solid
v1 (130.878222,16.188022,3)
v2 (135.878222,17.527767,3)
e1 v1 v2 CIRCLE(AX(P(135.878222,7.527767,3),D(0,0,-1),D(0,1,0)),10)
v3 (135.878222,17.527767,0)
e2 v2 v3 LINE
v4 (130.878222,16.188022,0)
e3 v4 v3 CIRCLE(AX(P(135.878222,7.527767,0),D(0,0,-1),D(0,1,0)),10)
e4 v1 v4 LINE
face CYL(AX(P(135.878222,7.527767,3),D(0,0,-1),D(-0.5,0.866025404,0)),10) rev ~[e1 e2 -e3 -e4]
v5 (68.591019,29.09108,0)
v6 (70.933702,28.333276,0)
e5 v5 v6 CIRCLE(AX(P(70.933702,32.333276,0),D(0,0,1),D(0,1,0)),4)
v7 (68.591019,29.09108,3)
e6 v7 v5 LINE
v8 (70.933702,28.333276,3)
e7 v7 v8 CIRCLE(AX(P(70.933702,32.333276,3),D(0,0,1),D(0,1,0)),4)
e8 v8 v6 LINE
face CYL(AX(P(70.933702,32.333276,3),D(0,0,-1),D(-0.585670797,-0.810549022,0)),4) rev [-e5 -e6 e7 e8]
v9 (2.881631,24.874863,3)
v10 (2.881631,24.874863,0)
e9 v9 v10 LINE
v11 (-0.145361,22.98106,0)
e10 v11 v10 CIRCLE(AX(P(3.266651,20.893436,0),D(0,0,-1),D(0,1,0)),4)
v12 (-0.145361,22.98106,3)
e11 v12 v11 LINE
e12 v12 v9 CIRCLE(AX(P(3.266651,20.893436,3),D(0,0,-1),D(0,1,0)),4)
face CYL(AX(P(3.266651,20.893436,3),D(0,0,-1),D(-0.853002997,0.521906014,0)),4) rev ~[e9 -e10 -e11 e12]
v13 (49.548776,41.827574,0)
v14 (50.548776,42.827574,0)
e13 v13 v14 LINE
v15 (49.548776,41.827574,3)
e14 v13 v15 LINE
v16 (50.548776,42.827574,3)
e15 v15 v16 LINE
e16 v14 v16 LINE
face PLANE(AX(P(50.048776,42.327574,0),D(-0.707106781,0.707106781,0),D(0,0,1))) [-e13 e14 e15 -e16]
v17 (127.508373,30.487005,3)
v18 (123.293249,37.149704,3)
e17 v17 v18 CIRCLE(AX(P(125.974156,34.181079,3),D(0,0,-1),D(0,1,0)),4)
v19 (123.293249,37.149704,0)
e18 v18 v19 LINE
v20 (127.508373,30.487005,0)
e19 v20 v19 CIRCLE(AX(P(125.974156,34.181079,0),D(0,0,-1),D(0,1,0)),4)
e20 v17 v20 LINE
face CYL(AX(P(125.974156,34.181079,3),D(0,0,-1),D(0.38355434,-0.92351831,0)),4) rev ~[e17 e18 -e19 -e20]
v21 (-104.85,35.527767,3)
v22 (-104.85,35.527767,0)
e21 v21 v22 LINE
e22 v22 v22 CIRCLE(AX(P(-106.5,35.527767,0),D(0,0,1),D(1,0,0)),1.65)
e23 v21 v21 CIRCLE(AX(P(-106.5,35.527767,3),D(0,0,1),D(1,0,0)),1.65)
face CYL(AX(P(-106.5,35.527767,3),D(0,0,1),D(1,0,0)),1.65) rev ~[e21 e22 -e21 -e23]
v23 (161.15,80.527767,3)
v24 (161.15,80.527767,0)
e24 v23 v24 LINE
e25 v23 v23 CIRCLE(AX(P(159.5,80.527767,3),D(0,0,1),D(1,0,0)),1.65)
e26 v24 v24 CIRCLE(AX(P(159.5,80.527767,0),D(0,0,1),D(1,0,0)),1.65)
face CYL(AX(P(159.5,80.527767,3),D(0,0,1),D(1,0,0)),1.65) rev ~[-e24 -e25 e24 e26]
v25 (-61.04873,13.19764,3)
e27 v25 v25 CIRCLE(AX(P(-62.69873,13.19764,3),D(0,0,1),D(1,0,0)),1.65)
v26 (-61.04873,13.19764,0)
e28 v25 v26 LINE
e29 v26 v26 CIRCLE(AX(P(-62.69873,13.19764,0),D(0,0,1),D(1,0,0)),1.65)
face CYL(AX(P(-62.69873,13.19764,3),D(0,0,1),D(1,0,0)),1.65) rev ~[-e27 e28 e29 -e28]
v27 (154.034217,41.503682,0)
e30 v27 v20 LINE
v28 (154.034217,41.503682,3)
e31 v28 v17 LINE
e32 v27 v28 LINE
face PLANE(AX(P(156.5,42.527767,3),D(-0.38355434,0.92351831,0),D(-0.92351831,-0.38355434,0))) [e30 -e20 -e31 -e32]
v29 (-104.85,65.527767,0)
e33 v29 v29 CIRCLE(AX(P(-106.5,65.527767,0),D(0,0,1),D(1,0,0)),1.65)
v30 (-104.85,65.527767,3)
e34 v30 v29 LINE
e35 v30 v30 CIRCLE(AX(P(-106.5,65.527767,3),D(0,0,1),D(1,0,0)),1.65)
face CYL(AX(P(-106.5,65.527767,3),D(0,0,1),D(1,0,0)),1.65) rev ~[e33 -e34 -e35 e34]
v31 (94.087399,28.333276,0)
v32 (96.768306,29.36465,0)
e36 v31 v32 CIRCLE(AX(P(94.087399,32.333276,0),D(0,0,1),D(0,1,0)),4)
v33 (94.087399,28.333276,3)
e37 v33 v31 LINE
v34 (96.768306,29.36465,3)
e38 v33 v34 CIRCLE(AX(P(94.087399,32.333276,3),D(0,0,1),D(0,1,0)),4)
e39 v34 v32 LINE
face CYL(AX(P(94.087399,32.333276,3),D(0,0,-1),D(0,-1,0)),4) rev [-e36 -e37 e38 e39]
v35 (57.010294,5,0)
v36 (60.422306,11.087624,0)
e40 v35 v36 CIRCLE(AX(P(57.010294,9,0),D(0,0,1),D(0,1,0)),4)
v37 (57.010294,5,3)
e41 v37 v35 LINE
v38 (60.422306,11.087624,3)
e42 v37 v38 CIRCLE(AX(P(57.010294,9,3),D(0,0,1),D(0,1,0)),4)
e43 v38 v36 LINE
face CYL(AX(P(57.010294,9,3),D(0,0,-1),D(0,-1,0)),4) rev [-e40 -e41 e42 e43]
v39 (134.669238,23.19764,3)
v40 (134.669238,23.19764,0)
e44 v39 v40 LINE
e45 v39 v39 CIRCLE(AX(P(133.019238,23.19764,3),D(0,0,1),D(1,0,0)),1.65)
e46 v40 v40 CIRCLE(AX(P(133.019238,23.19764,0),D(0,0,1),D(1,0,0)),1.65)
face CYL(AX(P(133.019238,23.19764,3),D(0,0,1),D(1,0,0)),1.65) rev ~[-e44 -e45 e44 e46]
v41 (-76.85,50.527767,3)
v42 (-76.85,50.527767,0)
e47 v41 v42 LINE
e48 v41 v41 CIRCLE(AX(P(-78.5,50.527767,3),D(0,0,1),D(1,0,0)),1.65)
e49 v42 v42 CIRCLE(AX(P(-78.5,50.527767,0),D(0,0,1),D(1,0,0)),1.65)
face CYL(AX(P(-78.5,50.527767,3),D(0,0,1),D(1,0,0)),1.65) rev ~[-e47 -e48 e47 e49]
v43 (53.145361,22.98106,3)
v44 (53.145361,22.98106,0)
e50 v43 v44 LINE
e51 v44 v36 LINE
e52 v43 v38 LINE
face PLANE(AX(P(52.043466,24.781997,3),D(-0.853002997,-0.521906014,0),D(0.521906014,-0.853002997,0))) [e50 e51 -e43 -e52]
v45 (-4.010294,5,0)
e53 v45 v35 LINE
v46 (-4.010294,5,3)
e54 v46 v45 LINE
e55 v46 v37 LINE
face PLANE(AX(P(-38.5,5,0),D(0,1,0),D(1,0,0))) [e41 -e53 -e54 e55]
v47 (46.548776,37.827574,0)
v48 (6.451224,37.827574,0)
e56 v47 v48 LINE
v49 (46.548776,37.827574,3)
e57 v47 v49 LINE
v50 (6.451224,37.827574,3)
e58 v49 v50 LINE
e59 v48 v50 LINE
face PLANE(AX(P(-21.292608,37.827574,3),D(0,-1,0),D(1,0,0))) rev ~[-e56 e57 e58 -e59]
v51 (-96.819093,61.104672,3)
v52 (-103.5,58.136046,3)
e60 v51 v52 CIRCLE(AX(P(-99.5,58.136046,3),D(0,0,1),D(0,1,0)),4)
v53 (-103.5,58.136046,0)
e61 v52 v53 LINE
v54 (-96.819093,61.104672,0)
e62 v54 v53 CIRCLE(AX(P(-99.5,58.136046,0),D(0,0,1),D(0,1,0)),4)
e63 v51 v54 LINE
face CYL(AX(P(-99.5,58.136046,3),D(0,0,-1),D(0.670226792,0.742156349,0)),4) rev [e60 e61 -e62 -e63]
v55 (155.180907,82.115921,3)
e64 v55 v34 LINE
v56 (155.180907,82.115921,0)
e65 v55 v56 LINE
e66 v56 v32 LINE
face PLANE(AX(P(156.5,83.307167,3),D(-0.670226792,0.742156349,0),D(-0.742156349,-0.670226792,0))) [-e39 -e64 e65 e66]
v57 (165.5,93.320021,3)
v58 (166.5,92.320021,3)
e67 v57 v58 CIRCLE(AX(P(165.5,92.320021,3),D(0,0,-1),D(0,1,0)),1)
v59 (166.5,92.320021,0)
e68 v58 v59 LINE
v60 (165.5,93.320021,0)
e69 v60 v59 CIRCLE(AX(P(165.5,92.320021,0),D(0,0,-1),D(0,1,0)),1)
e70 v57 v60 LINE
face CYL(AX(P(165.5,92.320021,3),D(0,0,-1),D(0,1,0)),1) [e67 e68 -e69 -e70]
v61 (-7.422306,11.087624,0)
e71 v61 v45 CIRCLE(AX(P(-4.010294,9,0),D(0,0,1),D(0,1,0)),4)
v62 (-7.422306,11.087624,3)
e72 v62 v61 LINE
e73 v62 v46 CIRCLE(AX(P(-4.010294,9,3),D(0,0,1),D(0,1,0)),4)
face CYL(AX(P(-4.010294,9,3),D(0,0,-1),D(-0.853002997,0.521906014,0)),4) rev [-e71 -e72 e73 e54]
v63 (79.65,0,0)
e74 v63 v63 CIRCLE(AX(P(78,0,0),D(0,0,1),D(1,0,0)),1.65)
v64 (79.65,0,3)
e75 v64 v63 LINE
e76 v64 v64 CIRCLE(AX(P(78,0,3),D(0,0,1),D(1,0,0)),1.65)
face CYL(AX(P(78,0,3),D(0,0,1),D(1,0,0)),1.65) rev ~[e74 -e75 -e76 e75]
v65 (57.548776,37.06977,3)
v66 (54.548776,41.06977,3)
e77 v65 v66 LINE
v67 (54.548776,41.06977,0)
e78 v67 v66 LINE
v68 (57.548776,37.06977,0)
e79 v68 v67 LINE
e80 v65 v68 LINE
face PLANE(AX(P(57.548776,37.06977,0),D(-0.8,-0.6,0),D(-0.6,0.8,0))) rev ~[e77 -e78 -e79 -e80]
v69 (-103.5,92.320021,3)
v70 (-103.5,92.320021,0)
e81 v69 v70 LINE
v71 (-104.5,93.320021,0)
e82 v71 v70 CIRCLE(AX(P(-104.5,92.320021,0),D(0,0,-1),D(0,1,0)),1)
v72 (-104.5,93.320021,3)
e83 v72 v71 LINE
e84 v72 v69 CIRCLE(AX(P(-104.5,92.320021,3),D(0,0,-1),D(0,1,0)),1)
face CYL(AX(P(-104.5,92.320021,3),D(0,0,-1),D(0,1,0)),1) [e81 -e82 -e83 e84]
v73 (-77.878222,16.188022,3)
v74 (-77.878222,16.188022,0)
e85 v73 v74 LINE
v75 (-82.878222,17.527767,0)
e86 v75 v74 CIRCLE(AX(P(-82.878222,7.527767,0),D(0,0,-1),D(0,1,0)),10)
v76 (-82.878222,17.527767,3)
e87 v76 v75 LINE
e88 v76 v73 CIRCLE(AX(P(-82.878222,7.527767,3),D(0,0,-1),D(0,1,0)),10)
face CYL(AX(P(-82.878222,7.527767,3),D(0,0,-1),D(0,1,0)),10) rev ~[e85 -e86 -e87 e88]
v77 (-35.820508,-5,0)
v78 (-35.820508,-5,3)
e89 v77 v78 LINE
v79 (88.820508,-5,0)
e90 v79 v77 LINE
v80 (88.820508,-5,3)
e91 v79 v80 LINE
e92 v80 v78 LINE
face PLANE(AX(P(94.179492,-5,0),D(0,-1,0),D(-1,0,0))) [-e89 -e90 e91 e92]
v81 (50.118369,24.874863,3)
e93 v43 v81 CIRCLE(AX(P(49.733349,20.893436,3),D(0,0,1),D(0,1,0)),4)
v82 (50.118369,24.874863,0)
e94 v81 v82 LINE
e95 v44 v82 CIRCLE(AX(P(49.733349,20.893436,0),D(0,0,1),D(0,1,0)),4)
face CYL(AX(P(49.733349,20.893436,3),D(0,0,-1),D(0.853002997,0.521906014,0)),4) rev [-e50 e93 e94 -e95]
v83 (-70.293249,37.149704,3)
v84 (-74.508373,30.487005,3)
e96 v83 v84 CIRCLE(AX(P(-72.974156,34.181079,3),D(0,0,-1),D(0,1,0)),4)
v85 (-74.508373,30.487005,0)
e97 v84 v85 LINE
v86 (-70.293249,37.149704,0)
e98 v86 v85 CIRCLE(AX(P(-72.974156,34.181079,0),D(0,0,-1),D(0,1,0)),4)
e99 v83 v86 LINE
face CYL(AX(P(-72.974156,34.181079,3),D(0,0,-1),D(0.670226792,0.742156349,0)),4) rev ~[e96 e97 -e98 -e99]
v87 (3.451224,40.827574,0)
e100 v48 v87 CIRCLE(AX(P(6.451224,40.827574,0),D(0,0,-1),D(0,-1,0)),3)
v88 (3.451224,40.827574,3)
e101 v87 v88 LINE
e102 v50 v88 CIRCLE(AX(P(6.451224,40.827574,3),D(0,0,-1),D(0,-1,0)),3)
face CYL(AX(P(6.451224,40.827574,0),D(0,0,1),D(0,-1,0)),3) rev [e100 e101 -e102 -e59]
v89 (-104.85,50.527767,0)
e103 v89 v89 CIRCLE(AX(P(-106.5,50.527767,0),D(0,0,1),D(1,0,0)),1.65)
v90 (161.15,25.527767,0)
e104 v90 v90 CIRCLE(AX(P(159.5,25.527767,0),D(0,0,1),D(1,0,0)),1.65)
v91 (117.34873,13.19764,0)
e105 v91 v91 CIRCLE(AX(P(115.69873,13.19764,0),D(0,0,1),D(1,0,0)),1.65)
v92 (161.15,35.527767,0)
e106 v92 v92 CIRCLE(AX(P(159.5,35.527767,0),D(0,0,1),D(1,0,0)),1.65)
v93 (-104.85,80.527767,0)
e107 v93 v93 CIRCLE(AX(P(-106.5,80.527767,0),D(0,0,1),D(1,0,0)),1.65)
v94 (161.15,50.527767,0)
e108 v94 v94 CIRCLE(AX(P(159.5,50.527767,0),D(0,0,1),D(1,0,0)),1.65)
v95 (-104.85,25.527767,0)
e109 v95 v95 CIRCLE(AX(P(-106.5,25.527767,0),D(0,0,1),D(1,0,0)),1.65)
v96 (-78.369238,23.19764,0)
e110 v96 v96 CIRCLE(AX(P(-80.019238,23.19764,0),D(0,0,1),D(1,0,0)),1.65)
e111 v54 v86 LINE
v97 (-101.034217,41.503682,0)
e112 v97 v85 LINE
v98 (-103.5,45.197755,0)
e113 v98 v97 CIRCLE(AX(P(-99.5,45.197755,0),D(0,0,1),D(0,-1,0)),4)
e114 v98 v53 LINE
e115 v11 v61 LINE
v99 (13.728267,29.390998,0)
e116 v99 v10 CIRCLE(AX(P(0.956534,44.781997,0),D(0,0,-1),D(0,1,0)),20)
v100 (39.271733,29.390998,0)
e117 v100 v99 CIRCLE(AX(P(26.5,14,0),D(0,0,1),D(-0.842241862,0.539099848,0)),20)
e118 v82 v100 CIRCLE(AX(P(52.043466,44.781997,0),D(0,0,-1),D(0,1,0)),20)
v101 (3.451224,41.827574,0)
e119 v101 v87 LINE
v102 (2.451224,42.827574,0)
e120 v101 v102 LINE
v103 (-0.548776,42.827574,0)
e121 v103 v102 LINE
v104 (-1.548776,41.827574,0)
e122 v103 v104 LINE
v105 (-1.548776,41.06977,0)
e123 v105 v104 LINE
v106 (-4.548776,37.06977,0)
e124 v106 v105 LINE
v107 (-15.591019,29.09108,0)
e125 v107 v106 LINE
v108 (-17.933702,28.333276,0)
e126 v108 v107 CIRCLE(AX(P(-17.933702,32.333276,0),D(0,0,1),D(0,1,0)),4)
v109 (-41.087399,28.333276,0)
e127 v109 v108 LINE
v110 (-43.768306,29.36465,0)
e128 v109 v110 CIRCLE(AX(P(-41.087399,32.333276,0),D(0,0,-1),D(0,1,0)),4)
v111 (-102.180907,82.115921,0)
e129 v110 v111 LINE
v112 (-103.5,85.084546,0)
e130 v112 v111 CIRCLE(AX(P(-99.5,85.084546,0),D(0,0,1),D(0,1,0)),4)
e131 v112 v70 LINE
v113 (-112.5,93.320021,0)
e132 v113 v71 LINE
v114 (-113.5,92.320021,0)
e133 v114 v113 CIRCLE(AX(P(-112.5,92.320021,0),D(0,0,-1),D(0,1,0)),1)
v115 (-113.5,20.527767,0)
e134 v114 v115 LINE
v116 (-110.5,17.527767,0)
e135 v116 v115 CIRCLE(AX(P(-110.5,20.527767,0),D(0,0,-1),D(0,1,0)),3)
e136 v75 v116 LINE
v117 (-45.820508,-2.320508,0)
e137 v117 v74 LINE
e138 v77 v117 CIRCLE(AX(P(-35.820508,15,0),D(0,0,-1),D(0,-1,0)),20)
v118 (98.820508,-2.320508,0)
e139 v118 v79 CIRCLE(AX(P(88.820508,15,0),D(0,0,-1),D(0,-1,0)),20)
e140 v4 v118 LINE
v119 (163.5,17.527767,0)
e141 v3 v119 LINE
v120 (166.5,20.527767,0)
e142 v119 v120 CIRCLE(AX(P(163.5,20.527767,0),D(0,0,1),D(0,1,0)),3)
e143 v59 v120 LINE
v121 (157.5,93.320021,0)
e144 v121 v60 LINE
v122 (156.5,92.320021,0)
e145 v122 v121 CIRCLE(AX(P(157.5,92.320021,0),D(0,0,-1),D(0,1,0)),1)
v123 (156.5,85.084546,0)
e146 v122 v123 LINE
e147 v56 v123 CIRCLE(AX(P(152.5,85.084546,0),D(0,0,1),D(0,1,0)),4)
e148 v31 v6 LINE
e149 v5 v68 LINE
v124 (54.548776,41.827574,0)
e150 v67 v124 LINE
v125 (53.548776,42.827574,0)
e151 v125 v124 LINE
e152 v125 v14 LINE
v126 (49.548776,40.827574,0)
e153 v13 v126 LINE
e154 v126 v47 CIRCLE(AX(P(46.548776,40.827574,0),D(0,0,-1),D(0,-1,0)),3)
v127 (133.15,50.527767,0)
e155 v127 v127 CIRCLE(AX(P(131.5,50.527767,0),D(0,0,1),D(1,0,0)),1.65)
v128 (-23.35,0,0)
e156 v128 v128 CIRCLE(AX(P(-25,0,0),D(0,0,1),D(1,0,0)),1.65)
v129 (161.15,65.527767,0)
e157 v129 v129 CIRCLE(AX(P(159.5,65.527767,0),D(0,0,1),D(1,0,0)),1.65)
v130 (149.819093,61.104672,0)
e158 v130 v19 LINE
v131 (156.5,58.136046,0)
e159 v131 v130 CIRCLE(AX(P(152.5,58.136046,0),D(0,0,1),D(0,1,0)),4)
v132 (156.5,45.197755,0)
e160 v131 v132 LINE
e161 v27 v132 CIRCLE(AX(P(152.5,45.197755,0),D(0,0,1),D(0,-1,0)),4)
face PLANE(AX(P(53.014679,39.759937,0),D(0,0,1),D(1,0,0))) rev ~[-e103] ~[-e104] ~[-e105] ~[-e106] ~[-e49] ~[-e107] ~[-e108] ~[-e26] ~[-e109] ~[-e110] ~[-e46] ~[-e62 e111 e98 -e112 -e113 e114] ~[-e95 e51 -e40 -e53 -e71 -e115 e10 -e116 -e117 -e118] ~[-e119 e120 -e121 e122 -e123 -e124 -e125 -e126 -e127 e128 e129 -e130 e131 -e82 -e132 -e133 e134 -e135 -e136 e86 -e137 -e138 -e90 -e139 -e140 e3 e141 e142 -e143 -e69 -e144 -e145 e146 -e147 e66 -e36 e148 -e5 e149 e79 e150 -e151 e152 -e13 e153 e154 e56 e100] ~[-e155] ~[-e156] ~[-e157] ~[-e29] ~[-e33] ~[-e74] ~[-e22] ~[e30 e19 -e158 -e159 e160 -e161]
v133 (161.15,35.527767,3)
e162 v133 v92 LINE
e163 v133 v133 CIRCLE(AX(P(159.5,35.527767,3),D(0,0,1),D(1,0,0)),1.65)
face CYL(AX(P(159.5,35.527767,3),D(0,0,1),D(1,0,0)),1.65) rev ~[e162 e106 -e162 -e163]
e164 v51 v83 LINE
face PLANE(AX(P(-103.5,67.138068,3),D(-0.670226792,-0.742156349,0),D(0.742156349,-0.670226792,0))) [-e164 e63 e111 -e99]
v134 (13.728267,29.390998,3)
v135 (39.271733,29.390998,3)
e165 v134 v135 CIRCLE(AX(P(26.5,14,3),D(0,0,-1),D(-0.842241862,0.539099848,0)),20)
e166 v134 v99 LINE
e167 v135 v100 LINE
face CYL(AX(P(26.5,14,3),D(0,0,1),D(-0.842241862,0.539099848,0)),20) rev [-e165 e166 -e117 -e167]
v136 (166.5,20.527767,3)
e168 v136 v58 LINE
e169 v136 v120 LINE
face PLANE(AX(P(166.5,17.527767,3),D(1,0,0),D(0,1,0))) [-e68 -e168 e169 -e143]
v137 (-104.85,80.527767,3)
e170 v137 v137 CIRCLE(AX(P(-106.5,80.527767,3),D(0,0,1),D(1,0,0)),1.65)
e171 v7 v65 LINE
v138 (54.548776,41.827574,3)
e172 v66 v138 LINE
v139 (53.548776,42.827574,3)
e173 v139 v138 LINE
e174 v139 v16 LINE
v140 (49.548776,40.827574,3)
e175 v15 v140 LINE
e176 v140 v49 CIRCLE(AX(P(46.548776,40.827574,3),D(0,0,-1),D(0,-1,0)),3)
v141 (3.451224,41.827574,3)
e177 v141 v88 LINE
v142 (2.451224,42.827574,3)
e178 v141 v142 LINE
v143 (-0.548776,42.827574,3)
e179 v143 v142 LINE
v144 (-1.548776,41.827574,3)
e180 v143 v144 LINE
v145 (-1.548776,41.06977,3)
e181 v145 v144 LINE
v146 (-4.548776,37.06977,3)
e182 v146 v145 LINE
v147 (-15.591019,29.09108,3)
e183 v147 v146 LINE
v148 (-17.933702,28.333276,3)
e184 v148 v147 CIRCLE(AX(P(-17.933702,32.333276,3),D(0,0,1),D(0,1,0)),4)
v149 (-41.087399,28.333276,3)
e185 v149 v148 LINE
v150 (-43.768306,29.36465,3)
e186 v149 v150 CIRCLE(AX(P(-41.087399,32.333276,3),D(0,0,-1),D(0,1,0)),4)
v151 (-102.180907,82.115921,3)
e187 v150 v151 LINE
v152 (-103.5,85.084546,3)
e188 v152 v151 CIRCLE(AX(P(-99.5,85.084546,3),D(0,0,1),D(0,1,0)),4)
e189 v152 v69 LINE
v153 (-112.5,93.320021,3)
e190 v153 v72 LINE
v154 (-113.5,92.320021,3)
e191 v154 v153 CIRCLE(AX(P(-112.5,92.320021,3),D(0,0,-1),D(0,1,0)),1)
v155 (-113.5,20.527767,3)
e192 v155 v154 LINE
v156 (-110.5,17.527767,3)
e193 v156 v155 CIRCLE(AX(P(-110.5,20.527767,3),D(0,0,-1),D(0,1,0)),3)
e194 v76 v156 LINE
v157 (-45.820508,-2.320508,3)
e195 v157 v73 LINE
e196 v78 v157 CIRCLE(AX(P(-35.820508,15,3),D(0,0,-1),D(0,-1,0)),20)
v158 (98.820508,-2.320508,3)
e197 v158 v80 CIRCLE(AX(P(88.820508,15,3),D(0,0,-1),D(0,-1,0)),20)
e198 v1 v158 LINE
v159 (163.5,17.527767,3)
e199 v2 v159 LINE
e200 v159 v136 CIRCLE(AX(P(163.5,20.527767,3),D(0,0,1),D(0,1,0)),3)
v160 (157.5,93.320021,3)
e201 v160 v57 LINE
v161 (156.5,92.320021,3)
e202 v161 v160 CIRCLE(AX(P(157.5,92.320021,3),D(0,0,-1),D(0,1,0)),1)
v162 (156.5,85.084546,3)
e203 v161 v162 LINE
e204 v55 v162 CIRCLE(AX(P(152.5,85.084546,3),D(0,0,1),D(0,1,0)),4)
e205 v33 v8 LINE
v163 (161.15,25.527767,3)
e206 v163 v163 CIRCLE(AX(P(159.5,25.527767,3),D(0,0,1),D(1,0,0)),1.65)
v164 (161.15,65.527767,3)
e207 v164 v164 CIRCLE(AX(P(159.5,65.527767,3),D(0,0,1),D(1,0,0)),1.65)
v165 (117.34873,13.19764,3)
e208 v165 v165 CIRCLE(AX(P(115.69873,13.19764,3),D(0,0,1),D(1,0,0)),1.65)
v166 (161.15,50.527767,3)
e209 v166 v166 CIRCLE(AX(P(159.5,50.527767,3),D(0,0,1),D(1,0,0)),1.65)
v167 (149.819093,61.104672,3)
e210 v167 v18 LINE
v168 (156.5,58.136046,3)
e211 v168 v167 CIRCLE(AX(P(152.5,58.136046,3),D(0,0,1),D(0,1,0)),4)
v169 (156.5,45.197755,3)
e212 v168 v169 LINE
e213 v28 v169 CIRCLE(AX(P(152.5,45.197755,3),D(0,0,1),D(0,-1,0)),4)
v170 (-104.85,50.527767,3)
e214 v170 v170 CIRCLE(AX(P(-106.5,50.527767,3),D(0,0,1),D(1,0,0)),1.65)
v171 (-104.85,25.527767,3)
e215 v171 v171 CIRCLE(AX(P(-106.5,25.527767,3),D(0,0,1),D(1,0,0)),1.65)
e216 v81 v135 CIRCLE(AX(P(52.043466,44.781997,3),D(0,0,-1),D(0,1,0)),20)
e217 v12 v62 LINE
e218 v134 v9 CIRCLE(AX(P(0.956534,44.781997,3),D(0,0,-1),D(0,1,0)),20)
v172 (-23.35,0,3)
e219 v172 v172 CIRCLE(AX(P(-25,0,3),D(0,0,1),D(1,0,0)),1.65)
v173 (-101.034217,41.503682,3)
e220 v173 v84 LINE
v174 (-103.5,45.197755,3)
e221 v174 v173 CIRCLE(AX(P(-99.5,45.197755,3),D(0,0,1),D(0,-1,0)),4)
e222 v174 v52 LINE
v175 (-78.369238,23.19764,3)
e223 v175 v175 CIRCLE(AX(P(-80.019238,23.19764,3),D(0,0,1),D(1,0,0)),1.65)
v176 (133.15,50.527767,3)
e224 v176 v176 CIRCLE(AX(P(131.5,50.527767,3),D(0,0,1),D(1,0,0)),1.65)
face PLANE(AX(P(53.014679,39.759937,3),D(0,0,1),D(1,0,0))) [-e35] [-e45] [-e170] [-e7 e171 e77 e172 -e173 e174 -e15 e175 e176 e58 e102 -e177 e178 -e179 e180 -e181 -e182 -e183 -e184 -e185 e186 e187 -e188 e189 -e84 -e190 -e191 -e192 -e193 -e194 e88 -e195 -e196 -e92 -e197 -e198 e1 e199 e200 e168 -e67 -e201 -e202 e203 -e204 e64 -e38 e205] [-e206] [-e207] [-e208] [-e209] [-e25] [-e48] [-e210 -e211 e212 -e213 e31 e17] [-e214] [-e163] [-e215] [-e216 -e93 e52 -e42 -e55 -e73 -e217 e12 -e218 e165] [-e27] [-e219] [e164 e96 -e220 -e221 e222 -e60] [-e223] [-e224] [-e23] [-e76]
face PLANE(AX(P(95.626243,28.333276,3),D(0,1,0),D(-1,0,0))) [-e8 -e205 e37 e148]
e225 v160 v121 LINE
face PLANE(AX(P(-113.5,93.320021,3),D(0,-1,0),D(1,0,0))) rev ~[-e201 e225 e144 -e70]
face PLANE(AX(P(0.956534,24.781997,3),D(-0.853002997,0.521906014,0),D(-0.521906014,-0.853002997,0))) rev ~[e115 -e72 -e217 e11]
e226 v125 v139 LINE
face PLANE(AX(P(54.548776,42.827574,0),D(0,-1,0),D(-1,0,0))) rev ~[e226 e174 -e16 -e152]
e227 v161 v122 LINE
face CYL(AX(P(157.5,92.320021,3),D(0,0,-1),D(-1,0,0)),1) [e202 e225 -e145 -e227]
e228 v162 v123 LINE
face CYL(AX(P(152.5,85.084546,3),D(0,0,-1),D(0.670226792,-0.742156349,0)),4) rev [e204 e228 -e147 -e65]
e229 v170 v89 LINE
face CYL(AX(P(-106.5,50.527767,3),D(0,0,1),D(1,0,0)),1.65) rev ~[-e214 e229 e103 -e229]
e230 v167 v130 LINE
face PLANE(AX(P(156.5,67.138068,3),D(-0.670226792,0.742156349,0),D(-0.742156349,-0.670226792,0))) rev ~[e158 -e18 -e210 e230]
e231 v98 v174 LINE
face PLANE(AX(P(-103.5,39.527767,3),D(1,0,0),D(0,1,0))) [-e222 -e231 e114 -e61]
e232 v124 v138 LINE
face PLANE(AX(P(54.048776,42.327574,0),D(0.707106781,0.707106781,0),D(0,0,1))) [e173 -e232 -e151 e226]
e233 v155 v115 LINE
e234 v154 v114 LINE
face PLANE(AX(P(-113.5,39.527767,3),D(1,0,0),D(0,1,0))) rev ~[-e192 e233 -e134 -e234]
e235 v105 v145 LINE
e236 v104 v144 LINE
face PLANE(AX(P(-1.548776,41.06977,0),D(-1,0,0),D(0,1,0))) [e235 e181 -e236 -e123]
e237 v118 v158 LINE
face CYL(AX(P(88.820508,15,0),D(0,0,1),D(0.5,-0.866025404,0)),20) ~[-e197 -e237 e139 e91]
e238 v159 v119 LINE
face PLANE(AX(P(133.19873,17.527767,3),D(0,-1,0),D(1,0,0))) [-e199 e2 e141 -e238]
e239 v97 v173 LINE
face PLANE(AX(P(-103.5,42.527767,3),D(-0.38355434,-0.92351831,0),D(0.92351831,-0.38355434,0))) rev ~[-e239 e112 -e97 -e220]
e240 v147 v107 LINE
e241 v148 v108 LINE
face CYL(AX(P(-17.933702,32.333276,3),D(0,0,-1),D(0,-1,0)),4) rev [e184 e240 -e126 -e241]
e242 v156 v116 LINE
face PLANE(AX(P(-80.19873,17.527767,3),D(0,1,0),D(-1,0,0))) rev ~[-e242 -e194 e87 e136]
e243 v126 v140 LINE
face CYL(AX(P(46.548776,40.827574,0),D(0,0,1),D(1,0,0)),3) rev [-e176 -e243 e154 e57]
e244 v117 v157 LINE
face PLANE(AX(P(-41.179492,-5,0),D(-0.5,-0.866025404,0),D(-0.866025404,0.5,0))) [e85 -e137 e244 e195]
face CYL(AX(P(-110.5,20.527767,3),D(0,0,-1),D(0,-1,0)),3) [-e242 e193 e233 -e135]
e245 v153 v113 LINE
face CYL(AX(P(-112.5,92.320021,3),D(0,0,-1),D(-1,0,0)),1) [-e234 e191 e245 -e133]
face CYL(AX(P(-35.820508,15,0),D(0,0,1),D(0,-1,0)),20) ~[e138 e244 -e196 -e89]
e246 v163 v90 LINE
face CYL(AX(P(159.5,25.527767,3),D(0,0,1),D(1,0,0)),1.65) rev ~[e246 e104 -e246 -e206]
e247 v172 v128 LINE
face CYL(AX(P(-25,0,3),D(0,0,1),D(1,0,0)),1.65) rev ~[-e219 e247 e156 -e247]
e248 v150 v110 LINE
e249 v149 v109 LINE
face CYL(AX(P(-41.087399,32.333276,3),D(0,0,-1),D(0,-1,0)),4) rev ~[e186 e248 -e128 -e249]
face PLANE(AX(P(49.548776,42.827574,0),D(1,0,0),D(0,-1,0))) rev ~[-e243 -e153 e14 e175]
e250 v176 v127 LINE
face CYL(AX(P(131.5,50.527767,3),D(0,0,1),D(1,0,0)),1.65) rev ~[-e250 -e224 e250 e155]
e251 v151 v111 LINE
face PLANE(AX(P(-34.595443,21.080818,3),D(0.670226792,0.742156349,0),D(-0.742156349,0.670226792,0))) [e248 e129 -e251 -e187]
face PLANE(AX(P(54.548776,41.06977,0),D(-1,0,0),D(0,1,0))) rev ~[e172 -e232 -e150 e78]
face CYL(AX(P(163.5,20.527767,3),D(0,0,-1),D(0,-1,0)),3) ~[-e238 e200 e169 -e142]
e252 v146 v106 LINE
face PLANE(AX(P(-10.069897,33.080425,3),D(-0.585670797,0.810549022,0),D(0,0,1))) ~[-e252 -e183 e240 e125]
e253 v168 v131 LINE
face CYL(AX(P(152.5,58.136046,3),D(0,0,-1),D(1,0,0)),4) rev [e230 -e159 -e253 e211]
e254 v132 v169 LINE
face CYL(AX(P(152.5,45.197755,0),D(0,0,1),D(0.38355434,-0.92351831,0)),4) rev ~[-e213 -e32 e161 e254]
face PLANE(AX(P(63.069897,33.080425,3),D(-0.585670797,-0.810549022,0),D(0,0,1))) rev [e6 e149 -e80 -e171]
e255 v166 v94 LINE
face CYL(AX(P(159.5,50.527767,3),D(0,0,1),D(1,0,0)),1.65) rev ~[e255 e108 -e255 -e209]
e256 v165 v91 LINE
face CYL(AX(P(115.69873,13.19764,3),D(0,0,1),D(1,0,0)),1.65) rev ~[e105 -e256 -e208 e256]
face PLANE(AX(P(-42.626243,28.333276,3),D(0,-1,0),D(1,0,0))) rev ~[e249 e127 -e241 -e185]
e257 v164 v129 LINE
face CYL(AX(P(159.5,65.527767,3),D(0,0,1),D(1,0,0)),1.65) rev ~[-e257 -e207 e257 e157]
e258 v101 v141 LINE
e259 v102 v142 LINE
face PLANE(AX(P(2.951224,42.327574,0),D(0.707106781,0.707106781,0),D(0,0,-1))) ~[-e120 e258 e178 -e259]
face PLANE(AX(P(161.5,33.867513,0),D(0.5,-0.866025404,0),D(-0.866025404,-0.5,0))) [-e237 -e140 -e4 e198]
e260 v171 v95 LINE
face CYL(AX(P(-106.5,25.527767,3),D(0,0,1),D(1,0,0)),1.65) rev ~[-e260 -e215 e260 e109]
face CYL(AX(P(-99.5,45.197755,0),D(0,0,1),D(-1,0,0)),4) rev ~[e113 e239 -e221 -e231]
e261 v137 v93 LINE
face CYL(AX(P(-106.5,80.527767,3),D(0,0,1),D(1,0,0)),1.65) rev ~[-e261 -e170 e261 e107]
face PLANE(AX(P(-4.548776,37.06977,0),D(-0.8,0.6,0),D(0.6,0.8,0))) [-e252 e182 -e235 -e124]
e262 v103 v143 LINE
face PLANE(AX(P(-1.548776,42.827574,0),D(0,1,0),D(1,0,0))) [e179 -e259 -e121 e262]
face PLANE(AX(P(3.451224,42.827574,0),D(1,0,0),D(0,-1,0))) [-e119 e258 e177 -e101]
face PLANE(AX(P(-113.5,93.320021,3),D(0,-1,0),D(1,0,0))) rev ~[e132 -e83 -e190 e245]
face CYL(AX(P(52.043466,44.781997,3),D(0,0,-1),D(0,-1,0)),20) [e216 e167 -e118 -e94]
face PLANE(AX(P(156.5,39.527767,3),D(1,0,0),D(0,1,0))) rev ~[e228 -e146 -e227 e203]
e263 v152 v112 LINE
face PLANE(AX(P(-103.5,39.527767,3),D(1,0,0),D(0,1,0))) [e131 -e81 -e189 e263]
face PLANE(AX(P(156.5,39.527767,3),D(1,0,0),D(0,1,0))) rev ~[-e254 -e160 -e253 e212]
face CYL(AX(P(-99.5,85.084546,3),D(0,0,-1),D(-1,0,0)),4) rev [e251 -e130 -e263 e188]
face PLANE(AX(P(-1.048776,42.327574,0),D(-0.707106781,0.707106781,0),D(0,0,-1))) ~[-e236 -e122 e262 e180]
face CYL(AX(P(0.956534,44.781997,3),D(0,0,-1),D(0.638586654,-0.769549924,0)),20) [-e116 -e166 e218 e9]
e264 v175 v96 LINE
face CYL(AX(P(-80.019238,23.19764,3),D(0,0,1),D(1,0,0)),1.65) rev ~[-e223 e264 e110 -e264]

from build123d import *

# Parameters (mm, degrees)
SKETCH_1_R           = 1.65
EXTRUDE_1_DEPTH      = 3
FILLET_1_R           = 20
SKETCH_2_R           = 1.65
CUT_EXTRUDE_1_DEPTH  = 10
EXTRUDE_2_DEPTH      = 3
FILLET_2_R           = 10
EXTRUDE_3_DEPTH      = 3
FILLET_3_R           = 10
FILLET_4_R           = 3
SKETCH_6_R           = 1.65
CUT_EXTRUDE_2_DEPTH  = 5
EXTRUDE_4_DEPTH      = 3
SKETCH_8_R           = 1.65
CUT_EXTRUDE_3_DEPTH  = 10
EXTRUDE_5_DEPTH      = 3
FILLET_5_R           = 3
EXTRUDE_6_DEPTH      = 3
FILLET_6_R           = 2
SKETCH_11_W          = 10
SKETCH_11_H          = 67.386751346
EXTRUDE_7_DEPTH      = 3
SKETCH_14_W          = 280
SKETCH_14_H          = 9.594497852
CUT_EXTRUDE_6_DEPTH  = 30
CUT_EXTRUDE_7_DEPTH  = 10
SKETCH_16_W          = 82.254624056
SKETCH_16_H          = 6
EXTRUDE_8_DEPTH      = 3
CUT_EXTRUDE_9_DEPTH  = 30
FILLET_9_R           = 20
EXTRUDE_10_DEPTH     = 3
CUT_EXTRUDE_10_DEPTH = 10
FILLET_11_R          = 20
CUT_EXTRUDE_11_DEPTH = 10
EXTRUDE_11_DEPTH     = 3
SKETCH_23_W          = 21.095443302
SKETCH_23_H          = 17.701178694
CUT_EXTRUDE_12_DEPTH = 10
SKETCH_24_W          = 16.070083248
SKETCH_24_H          = 4.940251746
SKETCH_24_W_2        = 30.683823142
SKETCH_24_H_2        = 7.471575689
CUT_EXTRUDE_13_DEPTH = 10
EXTRUDE_12_DEPTH     = 3
CHAMFER_1_SIZE       = 10
EXTRUDE_13_DEPTH     = 3
EXTRUDE_14_DEPTH     = 3
FILLET_12_R          = 4
SKETCH_28_R          = 1.65
CUT_EXTRUDE_14_DEPTH = 10
SKETCH_29_W          = 366.05251881
SKETCH_29_H          = 37.988622271
CUT_EXTRUDE_15_DEPTH = 10
FILLET_13_R          = 1
SKETCH_30_W          = 8.246482756
SKETCH_30_H          = 14.254634478
SKETCH_30_W_2        = 7.090703909
SKETCH_30_H_2        = 16.159554859
EXTRUDE_15_DEPTH     = 3
SKETCH_31_R          = 1.65
EXTRUDE_16_DEPTH     = 3
EXTRUDE_17_DEPTH     = 3
FILLET_14_R          = 3
CHAMFER_2_SIZE       = 1


with BuildPart() as part:
    # 草图1 → 凸台-拉伸1 (new body)
    with BuildSketch(Plane.XY):
        Polygon((91.5, 5), (156.5, 42.527767497), (161.5, 33.867513459), (94.179491924, -5), (-41.179491924, -5), (-108.5, 33.867513459), (-103.5, 42.527767497), (-38.5, 5), align=None)
        with Locations((53, 0)):
            Circle(SKETCH_1_R, mode=Mode.SUBTRACT)
        Circle(SKETCH_1_R, mode=Mode.SUBTRACT)
    extrude(amount=EXTRUDE_1_DEPTH)

    # 圆角1
    fillet_1_edges = [part.edges().sort_by_distance(p)[0] for p in [
        (94.179491924, -5, 1.5),
        (-41.179491924, -5, 1.5),
        (-38.5, 5, 1.5),
        (91.5, 5, 1.5),
    ]]
    fillet(fillet_1_edges, radius=FILLET_1_R)

    # 草图2 → 切除-拉伸1 (cut)
    with BuildSketch(Plane.XY.offset(3)):
        with Locations((-62.698729811, 13.197640478)):
            Circle(SKETCH_2_R)
        with Locations((-80.019237886, 23.197640478)):
            Circle(SKETCH_2_R)
        with Locations((133.019237886, 23.197640478)):
            Circle(SKETCH_2_R)
        with Locations((115.698729811, 13.197640478)):
            Circle(SKETCH_2_R)
        with Locations((-25, 0)):
            Circle(SKETCH_2_R)
        with Locations((78, 0)):
            Circle(SKETCH_2_R)
    extrude(amount=-CUT_EXTRUDE_1_DEPTH, mode=Mode.SUBTRACT)

    # 草图3 → 凸台-拉伸2 (add)
    with BuildSketch(Plane.XY.offset(3)):
        with BuildLine():
            Line((-103.5, 42.527767497), (-13.141016151, 5))
            Line((-13.141016151, 5), (-33.141016151, 5))
            ThreePointArc((-33.141016151, 5), (-38.317397053, 5.681483474), (-43.141016151, 7.679491924))
            Line((-43.141016151, 7.679491924), (-103.5, 42.527767497))
        make_face()
        with BuildLine():
            Line((156.5, 42.527767497), (66.141016151, 5))
            Line((66.141016151, 5), (86.141016151, 5))
            ThreePointArc((86.141016151, 5), (91.317397053, 5.681483474), (96.141016151, 7.679491924))
            Line((96.141016151, 7.679491924), (156.5, 42.527767497))
        make_face()
    extrude(amount=-EXTRUDE_2_DEPTH)

    # 圆角2
    fillet_2_edges = [part.edges().sort_by_distance(p)[0] for p in [
        (66.141016151, 5, 1.5),
        (-13.141016151, 5, 1.5),
    ]]
    fillet(fillet_2_edges, radius=FILLET_2_R)

    # 草图4 → 凸台-拉伸3 (add)
    with BuildSketch(Plane.XY.offset(3)):
        Polygon((-103.5, 42.527767497), (-108.5, 33.867513459), (-80.198729811, 17.527767497), (-113.5, 17.527767497), (-113.5, 42.527767497), align=None)
        Polygon((166.5, 17.527767497), (166.5, 42.527767497), (156.5, 42.527767497), (161.5, 33.867513459), (133.198729811, 17.527767497), align=None)
    extrude(amount=-EXTRUDE_3_DEPTH)

    # 圆角3
    fillet_3_edges = [part.edges().sort_by_distance(p)[0] for p in [
        (-80.198729811, 17.527767497, 1.5),
        (133.198729811, 17.527767497, 1.5),
    ]]
    fillet(fillet_3_edges, radius=FILLET_3_R)

    # 圆角4
    fillet_4_edges = [part.edges().sort_by_distance(p)[0] for p in [
        (-113.5, 42.527767497, 1.5),
        (-113.5, 17.527767497, 1.5),
        (166.5, 17.527767497, 1.5),
        (166.5, 42.527767497, 1.5),
    ]]
    fillet(fillet_4_edges, radius=FILLET_4_R)

    # 草图6 → 切除-拉伸2 (cut)
    with BuildSketch(Plane.XY.offset(3)):
        with Locations((-106.5, 35.527767497)):
            Circle(SKETCH_6_R)
        with Locations((-106.5, 25.527767497)):
            Circle(SKETCH_6_R)
        with Locations((159.5, 25.527767497)):
            Circle(SKETCH_6_R)
        with Locations((159.5, 35.527767497)):
            Circle(SKETCH_6_R)
    extrude(amount=-CUT_EXTRUDE_2_DEPTH, mode=Mode.SUBTRACT)

    # 草图7 → 凸台-拉伸4 (add)
    with BuildSketch(Plane.XY.offset(3)):
        Polygon((-40.311555509, 16.284430616), (-13.5, 38.781996955), (26.5, 38.781996955), (66.5, 38.781996955), (93.311555509, 16.284430616), (86.883679412, 8.623986185), (62.860297657, 28.781996955), (26.5, 28.781996955), (-9.860297657, 28.781996955), (-33.883679412, 8.623986185), align=None)
    extrude(amount=-EXTRUDE_4_DEPTH)

    # 草图8 → 切除-拉伸3 (cut)
    with BuildSketch(Plane.XY.offset(3)):
        with Locations((-106.5, 25.527767497)):
            Circle(SKETCH_8_R)
        with Locations((-106.5, 35.527767497)):
            Circle(SKETCH_8_R)
        with Locations((-98.5, 35.527767497)):
            Circle(SKETCH_8_R)
        with Locations((-98.5, 25.527767497)):
            Circle(SKETCH_8_R)
        with Locations((151.5, 25.527767497)):
            Circle(SKETCH_8_R)
        with Locations((151.5, 35.527767497)):
            Circle(SKETCH_8_R)
        with Locations((159.5, 35.527767497)):
            Circle(SKETCH_8_R)
        with Locations((159.5, 25.527767497)):
            Circle(SKETCH_8_R)
    extrude(amount=-CUT_EXTRUDE_3_DEPTH, mode=Mode.SUBTRACT)

    # 草图9 → 凸台-拉伸5 (add)
    with BuildSketch(Plane.XY.offset(3)):
        Polygon((-13.5, 38.781996955), (-111.763518223, 56.108506437), (-113.5, 46.260428907), (-23.5, 30.391000644), align=None)
        Polygon((166.5, 46.260428907), (76.5, 30.391000644), (66.5, 38.781996955), (164.763518223, 56.108506437), align=None)
    extrude(amount=-EXTRUDE_5_DEPTH)

    # 圆角5
    fillet_5_edges = [part.edges().sort_by_distance(p)[0] for p in [
        (82.905079843, 11.962427616, 1.5),
        (-29.905079843, 11.962427616, 1.5),
        (-40.311555509, 16.284430616, 1.5),
        (-13.5, 38.781996955, 1.5),
        (66.5, 38.781996955, 1.5),
        (93.311555509, 16.284430616, 1.5),
        (62.860297657, 28.781996955, 1.5),
        (-9.860297657, 28.781996955, 1.5),
        (-23.5, 30.391000644, 1.5),
        (-113.5, 46.260428907, 1.5),
        (-111.763518223, 56.108506437, 1.5),
        (164.763518223, 56.108506437, 1.5),
        (166.5, 46.260428907, 1.5),
        (76.5, 30.391000644, 1.5),
    ]]
    fillet(fillet_5_edges, radius=FILLET_5_R)

    # 草图10 → 凸台-拉伸6 (add)
    with BuildSketch(Plane.XY.offset(3)):
        Polygon((-108.911388509, 68.918131395), (-113.5, 62.364915041), (-102.142029314, 54.411978348), (-83.5, 51.124885605), align=None)
        Polygon((136.5, 51.124885605), (161.911388509, 68.918131395), (166.5, 62.364915041), (155.142029314, 54.411978348), align=None)
    extrude(amount=-EXTRUDE_6_DEPTH)

    # 圆角6
    fillet_6_edges = [part.edges().sort_by_distance(p)[0] for p in [
        (161.911388509, 68.918131395, 1.5),
        (166.5, 62.364915041, 1.5),
        (155.142029314, 54.411978348, 1.5),
        (136.5, 51.124885605, 1.5),
        (-83.5, 51.124885605, 1.5),
        (-102.142029314, 54.411978348, 1.5),
        (-108.911388509, 68.918131395, 1.5),
        (-113.5, 62.364915041, 1.5),
    ]]
    fillet(fillet_6_edges, radius=FILLET_6_R)

    # 草图11 → 凸台-拉伸7 (add)
    with BuildSketch(Plane.XY.offset(3)):
        with Locations((-108.5, 73.22114317)):
            Rectangle(SKETCH_11_W, SKETCH_11_H)
        with Locations((161.5, 73.22114317)):
            Rectangle(SKETCH_11_W, SKETCH_11_H)
    extrude(amount=-EXTRUDE_7_DEPTH)

    # 草图14 → 切除-拉伸6 (cut)
    with BuildSketch(Plane.XY.offset(3)):
        with Locations((26.5, 102.117269917)):
            Rectangle(SKETCH_14_W, SKETCH_14_H)
    extrude(amount=-CUT_EXTRUDE_6_DEPTH, mode=Mode.SUBTRACT)

    # 草图15 → 切除-拉伸7 (cut)
    with BuildSketch(Plane.XY.offset(3)):
        Polygon((-65.777893081, 48), (-55.052110747, 39), (108.052110747, 39), (118.777893081, 48), align=None)
    extrude(amount=-CUT_EXTRUDE_7_DEPTH, mode=Mode.SUBTRACT)

    # 草图16 → 凸台-拉伸8 (add)
    with BuildSketch(Plane.XY.offset(3)):
        with Locations((26.5, 27.781996955)):
            Rectangle(SKETCH_16_W, SKETCH_16_H)
    extrude(amount=-EXTRUDE_8_DEPTH)

    # 草图17 → 切除-拉伸9 (cut)
    with BuildSketch(Plane.XY.offset(3)):
        with BuildLine():
            Line((43.34483724, 24.781996955), (9.65516276, 24.781996955))
            ThreePointArc((9.65516276, 24.781996955), (26.5, 34), (43.34483724, 24.781996955))
        make_face()
    extrude(amount=-CUT_EXTRUDE_9_DEPTH, mode=Mode.SUBTRACT)

    # 圆角9
    fillet_9_edges = [part.edges().sort_by_distance(p)[0] for p in [
        (9.65516276, 24.781996955, 1.5),
        (43.34483724, 24.781996955, 1.5),
    ]]
    fillet(fillet_9_edges, radius=FILLET_9_R)

    # 草图19 → 凸台-拉伸10 (add)
    with BuildSketch(Plane.XY.offset(3)):
        Polygon((-65.777893081, 48), (-13.758478542, 38.827573696), (-55.052110747, 39), align=None)
        Polygon((118.777893081, 48), (66.758478542, 38.827573696), (108.052110747, 39), align=None)
    extrude(amount=-EXTRUDE_10_DEPTH)

    # 草图20 → 切除-拉伸10 (cut)
    with BuildSketch(Plane.XY.offset(3)):
        Polygon((-13.758478542, 38.827573696), (-8.087196723, 37.827573696), (61.087196723, 37.827573696), (66.758478542, 38.827573696), align=None)
    extrude(amount=-CUT_EXTRUDE_10_DEPTH, mode=Mode.SUBTRACT)

    # 圆角11
    fillet_11_edges = [part.edges().sort_by_distance(p)[0] for p in [
        (-103.5, 65.129036369, 1.5),
        (156.5, 65.129036369, 1.5),
        (61.087196723, 37.827573696, 1.5),
        (-8.087196723, 37.827573696, 1.5),
    ]]
    fillet(fillet_11_edges, radius=FILLET_11_R)

    # 草图21 → 切除-拉伸11 (cut)
    with BuildSketch(Plane.XY.offset(3)):
        Polygon((81.428362829, 26.255613211), (61.222172102, 43.210620398), (156.5, 75.54037738), (156.5, 42.527767497), align=None)
        Polygon((-103.5, 75.54037738), (-103.5, 42.527767497), (-28.428362829, 26.255613211), (-8.222172102, 43.210620398), align=None)
    extrude(amount=-CUT_EXTRUDE_11_DEPTH, mode=Mode.SUBTRACT)

    # 草图22 → 凸台-拉伸11 (add)
    with BuildSketch(Plane.XY.offset(3)):
        Polygon((-103.5, 72.527767497), (-41.994557068, 16.983412483), (-40.35116529, 14.70738517), (-34.595443302, 21.080818261), (-103.5, 83.307167295), align=None)
        Polygon((87.595443302, 21.080818261), (93.35116529, 14.70738517), (94.994557068, 16.983412483), (156.5, 72.527767497), (156.5, 83.307167295), align=None)
    extrude(amount=-EXTRUDE_11_DEPTH)

    # 草图23 → 切除-拉伸12 (cut)
    with BuildSketch(Plane.XY.offset(3)):
        with Locations((-24.047721651, 29.931407608)):
            Rectangle(SKETCH_23_W, SKETCH_23_H)
        with Locations((77.047721651, 29.931407608)):
            Rectangle(SKETCH_23_W, SKETCH_23_H)
    extrude(amount=-CUT_EXTRUDE_12_DEPTH, mode=Mode.SUBTRACT)


with BuildPart() as cut_extrude_12_piece_1:
    # of the separate pieces the step leaves, piece 1, a body of its own (cut_extrude_12_pieces)
    add(part.part.solids().sort_by_distance((-113.5, 20.527767497, 0))[0])



with BuildPart() as cut_extrude_12_piece_2:
    # of the separate pieces the step leaves, piece 2, a body of its own (cut_extrude_12_pieces)
    add(part.part.solids().sort_by_distance((-13.5, 38.781996955, 0))[0])

    # 草图24 → 切除-拉伸13 (cut)
    with BuildSketch(Plane.XY.offset(3)):
        with Locations((-13.257566462, 40.297699569)):
            Rectangle(SKETCH_24_W, SKETCH_24_H)
        with Locations((66.142364697, 41.56336154)):
            Rectangle(SKETCH_24_W_2, SKETCH_24_H_2)
    extrude(amount=-CUT_EXTRUDE_13_DEPTH, mode=Mode.SUBTRACT)


with BuildPart() as cut_extrude_12_piece_1_1:
    add(cut_extrude_12_piece_1.part)

    add(cut_extrude_12_piece_2.part)  # 凸台-拉伸12 merges 切除-拉伸12 piece 2
    # 草图25 → 凸台-拉伸12 (add)
    with BuildSketch(Plane.XY.offset(3)):
        Polygon((-19.038205034, 21.080818261), (-13.5, 37.827573696), (-13.5, 24.781996955), (0.95653384, 24.781996955), (-11.146991254, 5), (-31.045352326, 5), (-31.045352326, 21.080818261), align=None)
        Polygon((84.045352326, 5), (84.045352326, 21.080818261), (72.038205034, 21.080818261), (66.5, 37.827573696), (66.5, 24.781996955), (52.04346616, 24.781996955), (64.146991254, 5), align=None)
    extrude(amount=-EXTRUDE_12_DEPTH)

    # 倒角1
    chamfer_1_edges = [cut_extrude_12_piece_1_1.edges().sort_by_distance(p)[0] for p in [
        (-13.5, 37.827573696, 1.5),
        (66.5, 37.827573696, 1.5),
    ]]
    chamfer(chamfer_1_edges, length=CHAMFER_1_SIZE)

    # 草图26 → 凸台-拉伸13 (add)
    with BuildSketch(Plane.XY.offset(3)):
        Polygon((-16.639794349, 28.333275858), (-19.038205034, 21.080818261), (-34.595443302, 21.080818261), (-42.626243493, 28.333275858), align=None)
        Polygon((69.639794349, 28.333275858), (72.038205034, 21.080818261), (87.595443302, 21.080818261), (95.626243493, 28.333275858), align=None)
    extrude(amount=-EXTRUDE_13_DEPTH)

    # 草图27 → 凸台-拉伸14 (add)
    with BuildSketch(Plane.XY.offset(3)):
        Polygon((-103.5, 72.527767497), (-103.5, 67.138067599), (-53.044419719, 21.572626071), (-41.994557068, 16.983412483), align=None)
        Polygon((94.994557068, 16.983412483), (156.5, 72.527767497), (156.5, 67.138067599), (106.044419719, 21.572626071), align=None)
    extrude(amount=-EXTRUDE_14_DEPTH)

    # 圆角12
    fillet_12_edges = [cut_extrude_12_piece_1_1.edges().sort_by_distance(p)[0] for p in [
        (156.5, 83.307167295, 1.5),
        (0.95653384, 24.781996955, 1.5),
        (166.5, 97.320020991, 1.5),
        (52.04346616, 24.781996955, 1.5),
        (-103.5, 42.527767497, 1.5),
        (156.5, 97.320020991, 1.5),
        (-113.5, 97.320020991, 1.5),
        (-103.5, 97.320020991, 1.5),
        (-103.5, 83.307167295, 1.5),
        (156.5, 42.527767497, 1.5),
        (64.146991254, 5, 1.5),
        (56.5, 37.827573696, 1.5),
        (-3.5, 37.827573696, 1.5),
        (-11.146991254, 5, 1.5),
        (-16.639794349, 28.333275858, 1.5),
        (69.639794349, 28.333275858, 1.5),
        (-42.626243493, 28.333275858, 1.5),
        (95.626243493, 28.333275858, 1.5),
        (-53.044419719, 21.572626071, 1.5),
        (-103.5, 67.138067599, 1.5),
        (106.044419719, 21.572626071, 1.5),
        (156.5, 67.138067599, 1.5),
    ]]
    fillet(fillet_12_edges, radius=FILLET_12_R)

    # 草图28 → 切除-拉伸14 (cut)
    with BuildSketch(Plane.XY.offset(3)):
        with Locations((-106.5, 65.527767497)):
            Circle(SKETCH_28_R)
        with Locations((-106.5, 80.527767497)):
            Circle(SKETCH_28_R)
        with Locations((159.5, 80.527767497)):
            Circle(SKETCH_28_R)
        with Locations((159.5, 65.527767497)):
            Circle(SKETCH_28_R)
        with Locations((-106.5, 50.527767497)):
            Circle(SKETCH_28_R)
        with Locations((159.5, 50.527767497)):
            Circle(SKETCH_28_R)
        with Locations((-78.5, 50.527767497)):
            Circle(SKETCH_28_R)
        with Locations((131.5, 50.527767497)):
            Circle(SKETCH_28_R)
    extrude(amount=-CUT_EXTRUDE_14_DEPTH, mode=Mode.SUBTRACT)

    # 草图29 → 切除-拉伸15 (cut)
    with BuildSketch(Plane.XY.offset(3)):
        with Locations((69.526259405, 112.314332127)):
            Rectangle(SKETCH_29_W, SKETCH_29_H)
    extrude(amount=-CUT_EXTRUDE_15_DEPTH, mode=Mode.SUBTRACT)

    # 圆角13
    fillet_13_edges = [cut_extrude_12_piece_1_1.edges().sort_by_distance(p)[0] for p in [
        (-103.5, 93.320020991, 1.5),
        (-113.5, 93.320020991, 1.5),
        (166.5, 93.320020991, 1.5),
        (156.5, 93.320020991, 1.5),
    ]]
    fillet(fillet_13_edges, radius=FILLET_13_R)

    # 草图30 → 凸台-拉伸15 (add)
    with BuildSketch(Plane.XY.offset(3)):
        with Locations((-98.11802586, 30.163696112)):
            Rectangle(SKETCH_30_W, SKETCH_30_H)
        with Locations((151.615680923, 29.211235922)):
            Rectangle(SKETCH_30_W_2, SKETCH_30_H_2)
    extrude(amount=-EXTRUDE_15_DEPTH)

    # 草图31 → 凸台-拉伸16 (add)
    with BuildSketch(Plane.XY.offset(3)):
        Circle(SKETCH_31_R)
        with Locations((53, 0)):
            Circle(SKETCH_31_R)
    extrude(amount=-EXTRUDE_16_DEPTH)

    # 草图32 → 凸台-拉伸17 (add)
    with BuildSketch(Plane(origin=(0, 0, 0), x_dir=(-1, 0, 0), z_dir=(0, 0, -1))):
        Polygon((-57.548775562, 37.069769785), (-54.548775562, 41.069769785), (-54.548775562, 42.827573696), (-49.548775562, 42.827573696), (-49.548775562, 37.827573696), align=None)
        Polygon((-3.451224438, 42.827573696), (-3.451224438, 37.827573696), (4.548775562, 37.069769785), (1.548775562, 41.069769785), (1.548775562, 42.827573696), align=None)
    extrude(amount=-EXTRUDE_17_DEPTH)

    # 圆角14
    fillet_14_edges = [cut_extrude_12_piece_1_1.edges().sort_by_distance(p)[0] for p in [
        (49.548775562, 37.827573696, 1.5),
        (3.451224438, 37.827573696, 1.5),
    ]]
    fillet(fillet_14_edges, radius=FILLET_14_R)

    # 倒角2
    chamfer_2_edges = [cut_extrude_12_piece_1_1.edges().sort_by_distance(p)[0] for p in [
        (49.548775562, 42.827573696, 1.5),
        (54.548775562, 42.827573696, 1.5),
        (-1.548775562, 42.827573696, 1.5),
        (3.451224438, 42.827573696, 1.5),
    ]]
    chamfer(chamfer_2_edges, length=CHAMFER_2_SIZE)


solid = cut_extrude_12_piece_1_1.part
